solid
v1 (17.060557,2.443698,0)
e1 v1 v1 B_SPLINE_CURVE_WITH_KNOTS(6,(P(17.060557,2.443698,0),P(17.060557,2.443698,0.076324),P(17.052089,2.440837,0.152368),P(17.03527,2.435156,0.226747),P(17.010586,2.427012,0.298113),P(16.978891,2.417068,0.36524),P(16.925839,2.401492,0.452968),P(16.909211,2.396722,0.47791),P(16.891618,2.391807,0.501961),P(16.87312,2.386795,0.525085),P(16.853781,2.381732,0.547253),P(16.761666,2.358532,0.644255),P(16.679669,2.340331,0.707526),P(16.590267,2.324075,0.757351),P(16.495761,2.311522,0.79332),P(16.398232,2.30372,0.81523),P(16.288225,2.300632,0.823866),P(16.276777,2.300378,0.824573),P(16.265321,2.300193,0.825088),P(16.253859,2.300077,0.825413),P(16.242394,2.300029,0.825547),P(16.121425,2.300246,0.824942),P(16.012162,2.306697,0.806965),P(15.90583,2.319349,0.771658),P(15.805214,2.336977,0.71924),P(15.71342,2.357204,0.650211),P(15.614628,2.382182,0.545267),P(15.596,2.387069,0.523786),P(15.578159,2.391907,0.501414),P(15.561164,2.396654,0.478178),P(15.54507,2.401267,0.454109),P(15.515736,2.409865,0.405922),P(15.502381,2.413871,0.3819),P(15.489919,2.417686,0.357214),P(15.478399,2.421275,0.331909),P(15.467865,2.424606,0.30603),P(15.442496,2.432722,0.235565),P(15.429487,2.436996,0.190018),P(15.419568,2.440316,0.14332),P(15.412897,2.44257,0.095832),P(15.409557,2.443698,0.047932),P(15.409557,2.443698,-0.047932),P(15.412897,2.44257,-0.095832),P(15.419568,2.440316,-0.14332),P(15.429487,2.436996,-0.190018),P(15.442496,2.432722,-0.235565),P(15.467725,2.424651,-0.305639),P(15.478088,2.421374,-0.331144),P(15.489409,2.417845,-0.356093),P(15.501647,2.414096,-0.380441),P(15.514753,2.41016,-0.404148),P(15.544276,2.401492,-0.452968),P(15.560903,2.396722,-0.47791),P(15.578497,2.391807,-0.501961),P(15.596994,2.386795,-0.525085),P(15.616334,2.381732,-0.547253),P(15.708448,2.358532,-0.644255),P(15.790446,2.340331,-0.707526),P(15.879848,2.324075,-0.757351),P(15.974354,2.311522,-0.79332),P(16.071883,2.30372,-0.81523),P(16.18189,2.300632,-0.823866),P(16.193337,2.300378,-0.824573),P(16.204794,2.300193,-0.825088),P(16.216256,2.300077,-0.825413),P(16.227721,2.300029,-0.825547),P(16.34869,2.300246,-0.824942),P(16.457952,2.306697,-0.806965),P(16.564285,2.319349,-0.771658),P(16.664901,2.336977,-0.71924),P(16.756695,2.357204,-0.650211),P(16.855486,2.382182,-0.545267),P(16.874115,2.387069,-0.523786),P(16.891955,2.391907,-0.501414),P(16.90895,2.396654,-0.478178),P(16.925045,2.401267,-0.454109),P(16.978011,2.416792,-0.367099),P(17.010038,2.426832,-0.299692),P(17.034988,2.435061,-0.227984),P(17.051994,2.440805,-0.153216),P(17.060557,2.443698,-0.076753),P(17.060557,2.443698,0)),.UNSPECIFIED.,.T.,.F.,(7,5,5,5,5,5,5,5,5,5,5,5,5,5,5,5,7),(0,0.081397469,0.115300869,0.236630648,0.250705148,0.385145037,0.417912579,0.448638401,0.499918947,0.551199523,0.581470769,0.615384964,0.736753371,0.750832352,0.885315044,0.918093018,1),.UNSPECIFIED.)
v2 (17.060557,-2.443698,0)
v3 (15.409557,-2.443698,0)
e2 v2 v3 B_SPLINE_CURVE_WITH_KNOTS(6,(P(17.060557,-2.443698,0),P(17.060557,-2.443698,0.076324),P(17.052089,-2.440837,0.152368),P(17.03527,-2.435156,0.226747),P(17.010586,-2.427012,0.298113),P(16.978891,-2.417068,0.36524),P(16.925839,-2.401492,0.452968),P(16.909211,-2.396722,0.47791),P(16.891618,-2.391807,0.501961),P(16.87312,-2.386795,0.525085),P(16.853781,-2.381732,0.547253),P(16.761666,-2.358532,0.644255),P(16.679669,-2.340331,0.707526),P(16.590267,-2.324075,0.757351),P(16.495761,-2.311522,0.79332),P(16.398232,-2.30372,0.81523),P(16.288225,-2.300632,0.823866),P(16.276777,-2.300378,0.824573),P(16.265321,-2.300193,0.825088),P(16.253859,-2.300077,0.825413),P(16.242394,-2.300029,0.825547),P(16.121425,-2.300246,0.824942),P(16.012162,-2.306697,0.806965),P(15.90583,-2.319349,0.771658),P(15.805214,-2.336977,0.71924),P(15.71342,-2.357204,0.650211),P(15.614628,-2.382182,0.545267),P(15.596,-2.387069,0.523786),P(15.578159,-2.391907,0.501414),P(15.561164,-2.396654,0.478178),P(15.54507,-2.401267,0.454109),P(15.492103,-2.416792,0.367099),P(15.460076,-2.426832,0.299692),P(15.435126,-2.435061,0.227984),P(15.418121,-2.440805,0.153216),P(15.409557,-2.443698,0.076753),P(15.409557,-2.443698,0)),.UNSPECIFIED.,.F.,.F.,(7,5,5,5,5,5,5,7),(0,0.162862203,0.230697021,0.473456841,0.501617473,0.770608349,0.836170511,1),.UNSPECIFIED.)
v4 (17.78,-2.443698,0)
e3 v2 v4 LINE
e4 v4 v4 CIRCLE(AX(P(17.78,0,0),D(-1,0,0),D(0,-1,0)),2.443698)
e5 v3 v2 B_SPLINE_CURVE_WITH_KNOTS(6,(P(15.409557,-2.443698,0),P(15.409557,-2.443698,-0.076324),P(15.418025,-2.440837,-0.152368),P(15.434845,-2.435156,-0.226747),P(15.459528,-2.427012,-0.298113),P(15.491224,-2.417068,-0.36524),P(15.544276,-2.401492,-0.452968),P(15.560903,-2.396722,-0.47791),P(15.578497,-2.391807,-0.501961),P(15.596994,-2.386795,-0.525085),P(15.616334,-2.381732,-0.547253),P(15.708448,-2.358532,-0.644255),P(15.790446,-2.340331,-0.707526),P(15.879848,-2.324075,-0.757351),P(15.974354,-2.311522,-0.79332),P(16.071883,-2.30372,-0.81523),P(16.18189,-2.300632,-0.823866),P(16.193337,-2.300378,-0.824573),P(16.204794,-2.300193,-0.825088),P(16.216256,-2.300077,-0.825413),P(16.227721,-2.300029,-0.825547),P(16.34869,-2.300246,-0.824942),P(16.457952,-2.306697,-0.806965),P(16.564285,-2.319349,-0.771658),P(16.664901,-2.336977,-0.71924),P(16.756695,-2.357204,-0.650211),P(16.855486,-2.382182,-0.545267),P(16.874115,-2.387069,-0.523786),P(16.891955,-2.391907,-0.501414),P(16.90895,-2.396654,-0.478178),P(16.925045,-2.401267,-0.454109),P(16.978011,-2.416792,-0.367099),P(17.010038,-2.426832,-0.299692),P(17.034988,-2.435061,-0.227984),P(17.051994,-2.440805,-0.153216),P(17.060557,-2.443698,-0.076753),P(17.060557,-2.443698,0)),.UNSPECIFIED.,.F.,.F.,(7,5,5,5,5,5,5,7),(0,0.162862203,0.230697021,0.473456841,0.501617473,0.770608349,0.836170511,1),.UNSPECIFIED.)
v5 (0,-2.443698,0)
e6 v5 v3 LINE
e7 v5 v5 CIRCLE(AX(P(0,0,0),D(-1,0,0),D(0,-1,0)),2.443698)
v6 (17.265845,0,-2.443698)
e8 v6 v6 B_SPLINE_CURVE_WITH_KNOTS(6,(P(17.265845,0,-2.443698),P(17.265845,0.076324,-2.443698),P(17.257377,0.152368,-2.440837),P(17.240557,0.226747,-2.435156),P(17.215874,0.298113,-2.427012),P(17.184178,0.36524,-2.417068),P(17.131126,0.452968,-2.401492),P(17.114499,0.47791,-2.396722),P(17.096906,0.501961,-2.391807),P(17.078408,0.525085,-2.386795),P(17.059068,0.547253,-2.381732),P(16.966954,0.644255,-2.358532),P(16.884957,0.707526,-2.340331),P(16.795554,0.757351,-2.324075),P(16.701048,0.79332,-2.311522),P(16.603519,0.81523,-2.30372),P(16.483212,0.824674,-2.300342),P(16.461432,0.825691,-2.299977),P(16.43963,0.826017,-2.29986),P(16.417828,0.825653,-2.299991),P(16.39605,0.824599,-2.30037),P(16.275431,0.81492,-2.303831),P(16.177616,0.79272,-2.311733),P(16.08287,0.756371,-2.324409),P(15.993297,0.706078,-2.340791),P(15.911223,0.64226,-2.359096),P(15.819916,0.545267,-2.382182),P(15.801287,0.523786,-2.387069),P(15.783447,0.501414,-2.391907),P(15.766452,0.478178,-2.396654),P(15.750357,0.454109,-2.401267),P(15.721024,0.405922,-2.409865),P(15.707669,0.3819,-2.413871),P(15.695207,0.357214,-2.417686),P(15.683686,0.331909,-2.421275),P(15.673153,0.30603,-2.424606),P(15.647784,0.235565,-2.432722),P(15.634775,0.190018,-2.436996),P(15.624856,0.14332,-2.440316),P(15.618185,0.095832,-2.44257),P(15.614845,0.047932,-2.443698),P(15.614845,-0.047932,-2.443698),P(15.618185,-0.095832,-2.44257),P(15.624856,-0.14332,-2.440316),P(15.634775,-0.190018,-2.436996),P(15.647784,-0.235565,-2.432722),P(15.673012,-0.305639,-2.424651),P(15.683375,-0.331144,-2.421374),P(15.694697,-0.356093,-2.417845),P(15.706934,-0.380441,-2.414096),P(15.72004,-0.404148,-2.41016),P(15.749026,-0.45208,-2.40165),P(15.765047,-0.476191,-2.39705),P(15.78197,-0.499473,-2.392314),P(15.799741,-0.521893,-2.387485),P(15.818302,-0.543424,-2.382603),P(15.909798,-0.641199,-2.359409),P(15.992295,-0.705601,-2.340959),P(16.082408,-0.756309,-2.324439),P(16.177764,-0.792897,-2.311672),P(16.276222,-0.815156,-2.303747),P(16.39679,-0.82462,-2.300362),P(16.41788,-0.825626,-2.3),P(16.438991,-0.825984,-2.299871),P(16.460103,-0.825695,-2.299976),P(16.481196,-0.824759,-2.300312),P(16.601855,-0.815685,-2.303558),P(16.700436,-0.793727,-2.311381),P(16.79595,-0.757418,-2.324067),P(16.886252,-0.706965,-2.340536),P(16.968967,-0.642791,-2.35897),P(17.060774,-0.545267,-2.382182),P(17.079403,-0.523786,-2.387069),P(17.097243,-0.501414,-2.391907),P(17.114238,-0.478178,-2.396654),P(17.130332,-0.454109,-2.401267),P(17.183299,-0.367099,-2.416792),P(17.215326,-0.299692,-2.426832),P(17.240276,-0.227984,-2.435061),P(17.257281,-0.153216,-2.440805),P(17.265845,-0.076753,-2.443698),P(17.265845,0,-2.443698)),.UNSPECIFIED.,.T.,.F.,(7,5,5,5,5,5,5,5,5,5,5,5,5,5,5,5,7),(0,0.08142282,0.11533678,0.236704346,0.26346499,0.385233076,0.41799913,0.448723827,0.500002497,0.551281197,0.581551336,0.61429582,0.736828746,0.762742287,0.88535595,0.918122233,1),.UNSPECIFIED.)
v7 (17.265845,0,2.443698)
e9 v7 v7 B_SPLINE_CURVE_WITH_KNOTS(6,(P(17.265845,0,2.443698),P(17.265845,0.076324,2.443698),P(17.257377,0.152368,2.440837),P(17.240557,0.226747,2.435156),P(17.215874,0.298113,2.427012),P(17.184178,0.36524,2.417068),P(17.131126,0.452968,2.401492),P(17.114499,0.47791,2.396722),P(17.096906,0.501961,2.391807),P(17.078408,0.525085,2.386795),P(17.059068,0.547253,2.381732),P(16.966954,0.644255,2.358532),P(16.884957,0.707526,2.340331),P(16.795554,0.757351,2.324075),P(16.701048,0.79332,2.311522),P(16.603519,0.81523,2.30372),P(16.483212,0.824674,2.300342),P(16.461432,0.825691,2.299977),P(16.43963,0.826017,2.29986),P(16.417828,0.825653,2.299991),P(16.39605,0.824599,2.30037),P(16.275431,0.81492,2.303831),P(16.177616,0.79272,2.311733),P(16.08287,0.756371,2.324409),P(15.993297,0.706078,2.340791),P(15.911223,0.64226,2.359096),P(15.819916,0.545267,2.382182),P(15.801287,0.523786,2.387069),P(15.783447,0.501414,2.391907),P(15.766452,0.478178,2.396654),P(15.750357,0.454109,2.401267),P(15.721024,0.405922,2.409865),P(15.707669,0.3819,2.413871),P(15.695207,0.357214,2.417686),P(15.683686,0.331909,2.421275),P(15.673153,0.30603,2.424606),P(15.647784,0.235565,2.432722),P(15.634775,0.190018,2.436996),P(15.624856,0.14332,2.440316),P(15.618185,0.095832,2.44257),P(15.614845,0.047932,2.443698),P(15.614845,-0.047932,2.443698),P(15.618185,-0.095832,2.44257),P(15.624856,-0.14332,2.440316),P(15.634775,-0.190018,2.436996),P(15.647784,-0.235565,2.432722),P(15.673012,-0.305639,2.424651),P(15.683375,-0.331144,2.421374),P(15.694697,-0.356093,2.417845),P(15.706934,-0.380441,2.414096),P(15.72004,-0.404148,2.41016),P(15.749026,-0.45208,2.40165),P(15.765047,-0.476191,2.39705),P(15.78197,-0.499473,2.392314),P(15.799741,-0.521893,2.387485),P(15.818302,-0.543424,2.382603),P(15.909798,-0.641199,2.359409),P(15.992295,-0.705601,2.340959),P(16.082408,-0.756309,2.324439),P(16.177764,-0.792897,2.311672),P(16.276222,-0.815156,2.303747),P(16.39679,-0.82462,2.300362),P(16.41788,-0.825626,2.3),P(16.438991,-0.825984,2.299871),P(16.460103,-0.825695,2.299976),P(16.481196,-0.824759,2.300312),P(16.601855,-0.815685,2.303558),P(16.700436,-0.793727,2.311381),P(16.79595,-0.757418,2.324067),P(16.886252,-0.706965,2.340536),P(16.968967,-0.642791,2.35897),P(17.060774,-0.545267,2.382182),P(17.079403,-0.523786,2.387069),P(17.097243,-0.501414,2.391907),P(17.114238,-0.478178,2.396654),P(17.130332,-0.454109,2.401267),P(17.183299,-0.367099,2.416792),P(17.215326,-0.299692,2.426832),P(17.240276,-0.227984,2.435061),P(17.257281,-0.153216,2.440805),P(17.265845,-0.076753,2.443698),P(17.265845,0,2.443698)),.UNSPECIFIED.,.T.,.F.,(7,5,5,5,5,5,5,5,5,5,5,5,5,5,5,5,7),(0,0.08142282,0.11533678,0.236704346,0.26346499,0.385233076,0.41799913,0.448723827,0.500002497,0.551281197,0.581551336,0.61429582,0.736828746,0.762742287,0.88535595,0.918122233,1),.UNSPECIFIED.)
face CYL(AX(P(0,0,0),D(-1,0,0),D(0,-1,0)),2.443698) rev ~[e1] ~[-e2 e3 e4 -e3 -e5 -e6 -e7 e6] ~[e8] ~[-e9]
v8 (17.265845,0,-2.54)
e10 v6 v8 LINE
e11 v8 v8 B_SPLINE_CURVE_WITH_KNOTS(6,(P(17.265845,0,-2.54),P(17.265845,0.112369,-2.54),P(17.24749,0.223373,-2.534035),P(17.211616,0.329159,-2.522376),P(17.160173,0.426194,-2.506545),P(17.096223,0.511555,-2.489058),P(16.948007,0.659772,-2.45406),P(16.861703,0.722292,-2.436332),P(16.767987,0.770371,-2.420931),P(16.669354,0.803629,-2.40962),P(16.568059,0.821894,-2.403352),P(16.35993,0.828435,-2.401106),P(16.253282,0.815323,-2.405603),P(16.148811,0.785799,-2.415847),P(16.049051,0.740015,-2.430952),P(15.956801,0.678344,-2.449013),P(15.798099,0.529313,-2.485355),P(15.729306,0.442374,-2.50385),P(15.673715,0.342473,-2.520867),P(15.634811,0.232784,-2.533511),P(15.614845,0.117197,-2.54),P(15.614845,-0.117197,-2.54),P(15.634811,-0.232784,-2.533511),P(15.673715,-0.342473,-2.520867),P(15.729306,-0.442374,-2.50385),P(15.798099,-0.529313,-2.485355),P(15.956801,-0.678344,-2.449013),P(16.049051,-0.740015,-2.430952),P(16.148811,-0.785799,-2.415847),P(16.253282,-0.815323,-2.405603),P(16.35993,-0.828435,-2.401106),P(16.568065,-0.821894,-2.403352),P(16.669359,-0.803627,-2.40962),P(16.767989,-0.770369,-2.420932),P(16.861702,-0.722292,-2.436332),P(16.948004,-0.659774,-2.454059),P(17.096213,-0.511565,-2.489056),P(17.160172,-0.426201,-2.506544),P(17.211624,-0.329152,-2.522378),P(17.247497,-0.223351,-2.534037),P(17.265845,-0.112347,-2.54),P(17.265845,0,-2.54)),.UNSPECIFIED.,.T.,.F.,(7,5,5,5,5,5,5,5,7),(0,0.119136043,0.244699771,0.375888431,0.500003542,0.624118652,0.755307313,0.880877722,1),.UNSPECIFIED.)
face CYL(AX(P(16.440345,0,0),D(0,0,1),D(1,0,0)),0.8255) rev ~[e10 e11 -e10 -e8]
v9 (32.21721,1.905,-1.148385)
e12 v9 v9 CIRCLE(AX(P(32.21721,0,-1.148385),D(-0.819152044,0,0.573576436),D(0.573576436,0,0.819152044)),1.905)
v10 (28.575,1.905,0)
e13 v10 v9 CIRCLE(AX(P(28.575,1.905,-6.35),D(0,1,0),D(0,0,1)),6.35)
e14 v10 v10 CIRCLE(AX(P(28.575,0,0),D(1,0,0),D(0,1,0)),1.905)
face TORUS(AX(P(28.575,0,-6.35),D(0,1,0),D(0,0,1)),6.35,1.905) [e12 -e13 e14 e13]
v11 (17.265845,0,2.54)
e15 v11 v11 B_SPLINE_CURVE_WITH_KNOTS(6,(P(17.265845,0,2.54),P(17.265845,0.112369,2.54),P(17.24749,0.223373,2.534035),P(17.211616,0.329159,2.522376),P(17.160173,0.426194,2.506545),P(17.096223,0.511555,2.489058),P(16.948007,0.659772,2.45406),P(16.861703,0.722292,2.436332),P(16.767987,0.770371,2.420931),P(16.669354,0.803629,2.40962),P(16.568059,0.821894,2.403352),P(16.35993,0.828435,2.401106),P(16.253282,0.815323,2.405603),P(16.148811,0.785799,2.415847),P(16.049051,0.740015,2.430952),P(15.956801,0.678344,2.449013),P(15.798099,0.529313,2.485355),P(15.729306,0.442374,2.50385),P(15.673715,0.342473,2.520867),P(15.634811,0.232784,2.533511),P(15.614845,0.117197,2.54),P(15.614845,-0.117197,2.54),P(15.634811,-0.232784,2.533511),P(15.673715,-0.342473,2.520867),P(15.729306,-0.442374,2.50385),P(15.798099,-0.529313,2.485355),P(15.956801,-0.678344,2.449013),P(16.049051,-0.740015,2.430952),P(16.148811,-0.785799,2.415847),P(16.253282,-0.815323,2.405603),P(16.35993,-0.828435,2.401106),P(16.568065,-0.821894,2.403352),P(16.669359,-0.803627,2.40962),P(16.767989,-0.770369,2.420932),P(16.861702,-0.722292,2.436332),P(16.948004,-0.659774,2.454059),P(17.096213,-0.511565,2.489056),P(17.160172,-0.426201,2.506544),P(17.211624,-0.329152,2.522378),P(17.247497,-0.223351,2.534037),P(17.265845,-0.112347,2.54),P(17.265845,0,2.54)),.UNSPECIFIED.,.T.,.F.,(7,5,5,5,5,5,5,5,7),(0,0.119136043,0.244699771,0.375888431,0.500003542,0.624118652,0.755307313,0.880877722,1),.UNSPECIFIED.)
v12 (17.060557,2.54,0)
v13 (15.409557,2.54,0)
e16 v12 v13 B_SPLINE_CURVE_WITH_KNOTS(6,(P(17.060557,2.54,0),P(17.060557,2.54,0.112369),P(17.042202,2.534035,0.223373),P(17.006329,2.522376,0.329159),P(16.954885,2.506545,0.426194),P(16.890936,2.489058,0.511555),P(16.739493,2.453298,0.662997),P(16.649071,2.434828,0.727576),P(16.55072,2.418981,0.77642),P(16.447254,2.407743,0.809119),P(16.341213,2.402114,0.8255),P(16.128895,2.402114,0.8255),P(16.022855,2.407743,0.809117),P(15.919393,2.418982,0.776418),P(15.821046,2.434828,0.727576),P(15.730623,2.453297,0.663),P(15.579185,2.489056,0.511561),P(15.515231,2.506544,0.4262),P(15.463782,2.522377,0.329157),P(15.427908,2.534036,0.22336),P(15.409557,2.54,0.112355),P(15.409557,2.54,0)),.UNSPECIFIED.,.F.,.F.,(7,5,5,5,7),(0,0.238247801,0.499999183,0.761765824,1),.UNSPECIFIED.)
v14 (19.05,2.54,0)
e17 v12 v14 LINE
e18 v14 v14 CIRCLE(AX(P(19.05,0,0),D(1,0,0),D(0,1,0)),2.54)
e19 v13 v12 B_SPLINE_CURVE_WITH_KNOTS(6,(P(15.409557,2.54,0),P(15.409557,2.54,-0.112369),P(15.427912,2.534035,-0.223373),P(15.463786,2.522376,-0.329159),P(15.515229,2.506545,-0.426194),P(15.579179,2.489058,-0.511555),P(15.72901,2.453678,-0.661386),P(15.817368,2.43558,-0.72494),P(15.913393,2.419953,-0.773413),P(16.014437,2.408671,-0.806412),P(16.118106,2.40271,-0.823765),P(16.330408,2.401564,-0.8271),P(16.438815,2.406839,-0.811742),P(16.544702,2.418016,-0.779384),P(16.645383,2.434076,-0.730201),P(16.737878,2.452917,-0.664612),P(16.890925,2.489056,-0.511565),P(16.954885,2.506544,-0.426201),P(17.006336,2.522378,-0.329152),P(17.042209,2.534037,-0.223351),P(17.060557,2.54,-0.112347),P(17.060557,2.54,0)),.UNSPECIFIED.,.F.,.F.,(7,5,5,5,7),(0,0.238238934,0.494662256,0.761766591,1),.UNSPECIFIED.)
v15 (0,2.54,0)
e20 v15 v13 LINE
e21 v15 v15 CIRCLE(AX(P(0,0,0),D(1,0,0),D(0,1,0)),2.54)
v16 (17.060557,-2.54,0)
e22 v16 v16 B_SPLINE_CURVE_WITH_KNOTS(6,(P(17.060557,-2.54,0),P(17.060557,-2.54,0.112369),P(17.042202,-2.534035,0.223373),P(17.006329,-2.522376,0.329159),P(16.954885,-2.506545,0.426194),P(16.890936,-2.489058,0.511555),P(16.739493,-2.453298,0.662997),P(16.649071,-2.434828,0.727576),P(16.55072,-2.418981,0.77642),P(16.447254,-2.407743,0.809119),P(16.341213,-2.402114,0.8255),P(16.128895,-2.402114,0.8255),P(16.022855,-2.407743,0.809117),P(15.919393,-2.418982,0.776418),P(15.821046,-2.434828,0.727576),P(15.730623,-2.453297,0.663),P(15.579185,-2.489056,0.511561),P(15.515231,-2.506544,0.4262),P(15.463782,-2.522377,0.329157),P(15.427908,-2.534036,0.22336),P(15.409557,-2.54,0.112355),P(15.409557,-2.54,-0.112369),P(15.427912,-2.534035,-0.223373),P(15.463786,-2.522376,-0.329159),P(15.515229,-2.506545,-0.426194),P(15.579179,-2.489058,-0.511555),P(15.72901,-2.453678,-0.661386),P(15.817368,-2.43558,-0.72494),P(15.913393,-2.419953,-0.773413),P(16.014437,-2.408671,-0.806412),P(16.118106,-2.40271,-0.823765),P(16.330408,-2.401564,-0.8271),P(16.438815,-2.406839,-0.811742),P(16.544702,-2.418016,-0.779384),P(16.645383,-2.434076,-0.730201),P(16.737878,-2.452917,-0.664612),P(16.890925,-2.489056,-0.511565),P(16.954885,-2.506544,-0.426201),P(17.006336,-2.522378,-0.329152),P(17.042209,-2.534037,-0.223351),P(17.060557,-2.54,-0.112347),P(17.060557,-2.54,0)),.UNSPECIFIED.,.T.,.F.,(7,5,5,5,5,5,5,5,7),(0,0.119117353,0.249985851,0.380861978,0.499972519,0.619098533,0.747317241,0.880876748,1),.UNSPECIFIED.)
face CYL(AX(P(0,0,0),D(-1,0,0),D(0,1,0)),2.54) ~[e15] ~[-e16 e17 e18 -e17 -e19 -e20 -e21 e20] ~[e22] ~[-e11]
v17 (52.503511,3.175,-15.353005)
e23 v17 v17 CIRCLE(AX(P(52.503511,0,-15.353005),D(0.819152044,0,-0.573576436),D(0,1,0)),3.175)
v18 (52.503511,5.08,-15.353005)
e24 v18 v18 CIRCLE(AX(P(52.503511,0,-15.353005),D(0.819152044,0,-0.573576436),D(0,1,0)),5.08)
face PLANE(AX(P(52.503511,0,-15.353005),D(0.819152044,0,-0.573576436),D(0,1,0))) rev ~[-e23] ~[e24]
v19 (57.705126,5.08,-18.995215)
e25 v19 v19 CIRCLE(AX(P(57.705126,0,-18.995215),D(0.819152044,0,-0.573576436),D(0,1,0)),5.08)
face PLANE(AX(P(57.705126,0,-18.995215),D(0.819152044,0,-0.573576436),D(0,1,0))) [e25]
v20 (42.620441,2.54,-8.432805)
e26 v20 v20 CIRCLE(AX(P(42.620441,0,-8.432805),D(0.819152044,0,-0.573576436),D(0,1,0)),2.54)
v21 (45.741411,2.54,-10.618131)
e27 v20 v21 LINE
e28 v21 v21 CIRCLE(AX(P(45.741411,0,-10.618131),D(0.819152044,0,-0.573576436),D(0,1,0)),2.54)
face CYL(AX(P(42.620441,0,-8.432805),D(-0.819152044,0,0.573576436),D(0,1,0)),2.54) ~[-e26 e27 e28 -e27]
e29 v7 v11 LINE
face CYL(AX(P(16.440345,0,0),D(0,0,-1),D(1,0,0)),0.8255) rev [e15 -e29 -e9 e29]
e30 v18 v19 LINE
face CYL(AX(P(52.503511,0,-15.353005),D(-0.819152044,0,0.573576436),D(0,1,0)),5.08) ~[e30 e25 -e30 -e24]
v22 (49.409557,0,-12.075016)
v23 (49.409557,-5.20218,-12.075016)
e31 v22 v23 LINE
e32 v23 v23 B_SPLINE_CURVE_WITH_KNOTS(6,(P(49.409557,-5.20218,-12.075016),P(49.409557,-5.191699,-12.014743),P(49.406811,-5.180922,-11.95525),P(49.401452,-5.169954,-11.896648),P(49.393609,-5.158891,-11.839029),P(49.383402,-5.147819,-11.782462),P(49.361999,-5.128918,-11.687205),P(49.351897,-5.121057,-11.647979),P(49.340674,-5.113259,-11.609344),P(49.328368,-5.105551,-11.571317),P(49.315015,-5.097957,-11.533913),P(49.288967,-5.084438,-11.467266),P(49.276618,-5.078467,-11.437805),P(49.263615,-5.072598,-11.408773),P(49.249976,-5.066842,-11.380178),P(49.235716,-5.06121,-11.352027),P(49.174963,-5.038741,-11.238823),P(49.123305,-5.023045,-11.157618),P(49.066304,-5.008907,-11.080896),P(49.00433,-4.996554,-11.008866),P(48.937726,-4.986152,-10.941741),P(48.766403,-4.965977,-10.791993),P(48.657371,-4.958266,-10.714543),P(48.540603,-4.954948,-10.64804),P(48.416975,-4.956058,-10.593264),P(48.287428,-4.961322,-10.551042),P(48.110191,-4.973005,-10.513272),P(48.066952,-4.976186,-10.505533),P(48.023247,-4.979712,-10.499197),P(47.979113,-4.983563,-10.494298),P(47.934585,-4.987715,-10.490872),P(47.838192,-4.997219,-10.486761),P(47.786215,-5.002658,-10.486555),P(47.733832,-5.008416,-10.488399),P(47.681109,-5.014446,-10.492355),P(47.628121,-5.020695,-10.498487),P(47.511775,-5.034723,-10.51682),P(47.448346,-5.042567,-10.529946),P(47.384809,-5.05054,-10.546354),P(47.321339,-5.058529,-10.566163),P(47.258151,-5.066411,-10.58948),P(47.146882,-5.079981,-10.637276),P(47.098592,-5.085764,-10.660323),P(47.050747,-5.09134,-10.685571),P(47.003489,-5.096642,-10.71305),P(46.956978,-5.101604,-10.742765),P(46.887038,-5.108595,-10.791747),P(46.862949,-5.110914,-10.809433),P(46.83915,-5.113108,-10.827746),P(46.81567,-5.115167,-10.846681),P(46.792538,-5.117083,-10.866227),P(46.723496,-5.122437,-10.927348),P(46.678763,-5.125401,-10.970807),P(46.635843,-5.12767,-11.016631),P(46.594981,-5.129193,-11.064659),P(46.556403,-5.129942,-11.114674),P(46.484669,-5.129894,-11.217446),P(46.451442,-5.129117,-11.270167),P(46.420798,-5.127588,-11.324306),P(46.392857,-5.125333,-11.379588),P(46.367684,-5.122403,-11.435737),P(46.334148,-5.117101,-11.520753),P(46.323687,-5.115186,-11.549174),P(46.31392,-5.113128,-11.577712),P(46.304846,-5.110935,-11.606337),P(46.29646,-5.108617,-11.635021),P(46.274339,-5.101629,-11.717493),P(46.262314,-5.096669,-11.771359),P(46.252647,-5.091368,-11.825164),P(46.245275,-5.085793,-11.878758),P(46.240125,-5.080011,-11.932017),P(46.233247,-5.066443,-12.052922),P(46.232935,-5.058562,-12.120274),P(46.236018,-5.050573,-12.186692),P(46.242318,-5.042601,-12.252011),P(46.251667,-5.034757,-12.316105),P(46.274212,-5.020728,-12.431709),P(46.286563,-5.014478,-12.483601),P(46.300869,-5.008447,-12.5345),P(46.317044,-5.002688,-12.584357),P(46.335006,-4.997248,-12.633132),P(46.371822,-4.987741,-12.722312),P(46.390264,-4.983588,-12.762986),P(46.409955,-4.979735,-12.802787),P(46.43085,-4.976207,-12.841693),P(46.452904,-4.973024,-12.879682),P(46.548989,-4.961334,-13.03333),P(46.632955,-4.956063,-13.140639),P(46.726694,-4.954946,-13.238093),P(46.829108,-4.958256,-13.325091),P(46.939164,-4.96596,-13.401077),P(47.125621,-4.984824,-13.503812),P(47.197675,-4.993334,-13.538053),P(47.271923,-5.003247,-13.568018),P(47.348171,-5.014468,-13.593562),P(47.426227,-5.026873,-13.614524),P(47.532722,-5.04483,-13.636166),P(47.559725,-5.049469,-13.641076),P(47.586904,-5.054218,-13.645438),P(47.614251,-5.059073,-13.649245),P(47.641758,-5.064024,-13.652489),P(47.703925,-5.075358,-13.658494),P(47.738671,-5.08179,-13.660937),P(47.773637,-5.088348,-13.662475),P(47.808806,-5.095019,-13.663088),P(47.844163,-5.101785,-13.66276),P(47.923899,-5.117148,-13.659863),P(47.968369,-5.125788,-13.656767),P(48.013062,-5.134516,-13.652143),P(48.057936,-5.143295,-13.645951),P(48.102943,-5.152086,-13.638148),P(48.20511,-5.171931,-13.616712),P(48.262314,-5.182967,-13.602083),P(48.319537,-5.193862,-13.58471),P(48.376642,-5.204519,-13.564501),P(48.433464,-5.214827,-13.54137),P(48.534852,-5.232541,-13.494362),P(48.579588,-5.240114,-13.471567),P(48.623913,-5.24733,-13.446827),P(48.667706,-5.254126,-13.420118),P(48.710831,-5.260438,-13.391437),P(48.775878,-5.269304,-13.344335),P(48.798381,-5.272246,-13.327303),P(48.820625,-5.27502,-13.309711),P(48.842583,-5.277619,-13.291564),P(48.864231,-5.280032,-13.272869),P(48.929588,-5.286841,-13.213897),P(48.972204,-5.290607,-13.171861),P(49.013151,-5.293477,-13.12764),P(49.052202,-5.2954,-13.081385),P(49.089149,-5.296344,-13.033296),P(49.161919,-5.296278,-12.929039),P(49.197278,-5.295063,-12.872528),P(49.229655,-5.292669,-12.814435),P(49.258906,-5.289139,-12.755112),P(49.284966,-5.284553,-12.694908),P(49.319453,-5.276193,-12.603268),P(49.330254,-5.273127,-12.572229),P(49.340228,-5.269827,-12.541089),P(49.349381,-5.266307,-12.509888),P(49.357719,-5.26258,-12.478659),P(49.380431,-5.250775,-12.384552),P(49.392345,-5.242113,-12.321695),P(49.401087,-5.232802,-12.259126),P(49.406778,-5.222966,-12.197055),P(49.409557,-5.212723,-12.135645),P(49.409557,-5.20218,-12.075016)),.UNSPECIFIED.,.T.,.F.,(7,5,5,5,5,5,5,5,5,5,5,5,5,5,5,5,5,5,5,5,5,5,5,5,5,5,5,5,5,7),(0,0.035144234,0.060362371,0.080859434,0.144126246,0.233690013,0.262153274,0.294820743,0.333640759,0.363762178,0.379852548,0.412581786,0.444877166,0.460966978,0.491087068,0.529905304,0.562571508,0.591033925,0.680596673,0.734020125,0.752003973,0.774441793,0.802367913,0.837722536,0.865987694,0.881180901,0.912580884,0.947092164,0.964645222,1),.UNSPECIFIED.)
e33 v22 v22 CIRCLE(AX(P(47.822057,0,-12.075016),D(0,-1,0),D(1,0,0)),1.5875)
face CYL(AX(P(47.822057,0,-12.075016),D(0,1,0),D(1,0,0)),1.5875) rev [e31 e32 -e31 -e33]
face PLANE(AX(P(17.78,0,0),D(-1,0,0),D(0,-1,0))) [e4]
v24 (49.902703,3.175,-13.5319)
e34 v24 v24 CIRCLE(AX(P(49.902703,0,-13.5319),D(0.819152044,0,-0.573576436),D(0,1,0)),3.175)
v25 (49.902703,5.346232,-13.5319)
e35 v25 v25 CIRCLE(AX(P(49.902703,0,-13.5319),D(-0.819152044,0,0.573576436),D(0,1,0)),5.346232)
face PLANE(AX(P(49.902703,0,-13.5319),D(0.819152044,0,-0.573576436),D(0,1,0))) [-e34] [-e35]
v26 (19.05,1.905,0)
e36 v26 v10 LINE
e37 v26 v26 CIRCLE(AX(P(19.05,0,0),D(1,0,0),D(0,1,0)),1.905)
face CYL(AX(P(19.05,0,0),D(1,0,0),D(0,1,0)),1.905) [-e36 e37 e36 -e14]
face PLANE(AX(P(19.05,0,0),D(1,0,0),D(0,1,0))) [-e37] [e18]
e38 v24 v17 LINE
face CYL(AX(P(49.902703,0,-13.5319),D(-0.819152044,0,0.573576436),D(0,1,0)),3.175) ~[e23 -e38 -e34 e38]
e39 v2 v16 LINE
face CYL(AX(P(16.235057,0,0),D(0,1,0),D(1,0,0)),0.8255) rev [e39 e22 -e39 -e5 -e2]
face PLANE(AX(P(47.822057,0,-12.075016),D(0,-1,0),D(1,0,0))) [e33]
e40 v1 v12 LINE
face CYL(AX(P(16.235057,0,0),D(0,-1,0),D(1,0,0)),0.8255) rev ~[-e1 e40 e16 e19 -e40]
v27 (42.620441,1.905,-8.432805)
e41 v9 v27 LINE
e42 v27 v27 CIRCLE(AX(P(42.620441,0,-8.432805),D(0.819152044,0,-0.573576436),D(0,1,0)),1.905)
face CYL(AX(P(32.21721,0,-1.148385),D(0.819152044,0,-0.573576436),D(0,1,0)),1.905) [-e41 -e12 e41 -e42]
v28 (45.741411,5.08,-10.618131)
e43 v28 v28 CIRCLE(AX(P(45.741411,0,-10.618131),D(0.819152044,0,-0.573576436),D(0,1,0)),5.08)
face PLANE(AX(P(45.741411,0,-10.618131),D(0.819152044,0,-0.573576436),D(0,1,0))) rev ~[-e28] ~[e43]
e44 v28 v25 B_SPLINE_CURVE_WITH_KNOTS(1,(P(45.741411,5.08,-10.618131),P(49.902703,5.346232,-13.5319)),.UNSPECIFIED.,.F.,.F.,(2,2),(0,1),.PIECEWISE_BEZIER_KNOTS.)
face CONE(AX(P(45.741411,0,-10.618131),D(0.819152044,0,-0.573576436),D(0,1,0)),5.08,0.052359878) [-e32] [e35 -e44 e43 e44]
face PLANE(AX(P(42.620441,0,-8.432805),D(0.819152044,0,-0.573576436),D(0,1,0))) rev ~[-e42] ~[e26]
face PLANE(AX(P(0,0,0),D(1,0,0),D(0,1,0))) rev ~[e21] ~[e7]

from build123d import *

# Parameters (mm, degrees)
F0_R           = 2.54
F1_DEPTH       = 19.05
F2_R           = 1.905
F5_R           = 2.54
F5_R_2         = 1.905
F6_DEPTH       = 3.81
F7_R           = 5.08
F7_R_2         = 2.54
F8_DEPTH       = 5.08
F8_TAPER       = -3
F9_R           = 3.175
F10_DEPTH      = 3.175
F11_R          = 5.08
F11_R_2        = 3.175
F12_DEPTH      = 6.35
F13_R          = 2.4436980308
F14_DEPTH      = 17.78
F15_R          = 0.8255
F16_DEPTH      = 23.1575077208
F16_DEPTH_BACK = 2.541
F17_R          = 0.8255
F18_DEPTH      = 5.3472316188
F18_DEPTH_BACK = 5.3472316188
F19_R          = 1.5875
F20_DEPTH      = 5.3472316188


with BuildPart() as f1:
    # F0 (on Right) → F1 (new body)
    with BuildSketch(Plane.YZ):
        Circle(F0_R)
    extrude(amount=F1_DEPTH)

    # F4: sweep along a path in F3
    with BuildLine(Plane.XZ) as f4_path:
        Line((19.05, 0), (28.575, 0))
        ThreePointArc((28.575, 0), (30.4844818269, -0.2938973627), (32.2172103708, -1.1483845188))
        Line((32.2172103708, -1.1483845188), (42.6204413333, -8.4328052604))
    # F2 (on face) → F4 (sweep)
    with BuildSketch(Plane.YZ.offset(19.05)):
        Circle(F2_R)
    sweep(path=f4_path.line)

    # F5 (on face) → F6 (join)
    with BuildSketch(Plane(origin=(32.5608678312, 0, -22.7993651061), x_dir=(0, 1, 0), z_dir=(0.8191520443, 0, -0.5735764364))):
        with Locations((0, 17.5383311875)):
            Circle(F5_R)
        with Locations((0, 17.5383311875)):
            Circle(F5_R_2, mode=Mode.SUBTRACT)
        with Locations((0, 17.5383311875)):
            Circle(F5_R_2)
    extrude(amount=F6_DEPTH)

    # F7 (on face) → F8 (join)
    with BuildSketch(Plane(origin=(35.68183712, 0, -24.9846913286), x_dir=(0, 1, 0), z_dir=(0.8191520443, 0, -0.5735764364))):
        with Locations((0, 17.5383311875)):
            Circle(F7_R)
        with Locations((0, 17.5383311875)):
            Circle(F7_R_2, mode=Mode.SUBTRACT)
        with Locations((0, 17.5383311875)):
            Circle(F7_R_2)
    extrude(amount=F8_DEPTH, taper=F8_TAPER)

    # F9 (on face) → F10 (join)
    with BuildSketch(Plane(origin=(39.843129505, 0, -27.8984596252), x_dir=(0, 1, 0), z_dir=(0.8191520443, 0, -0.5735764364))):
        with Locations((0, 17.5383311875)):
            Circle(F9_R)
    extrude(amount=F10_DEPTH)

    # F11 (on face) → F12 (join)
    with BuildSketch(Plane(origin=(42.4439372456, 0, -29.7195648107), x_dir=(0, 1, 0), z_dir=(0.8191520443, 0, -0.5735764364))):
        with Locations((0, 17.5383311875)):
            Circle(F11_R)
        with Locations((0, 17.5383311875)):
            Circle(F11_R_2, mode=Mode.SUBTRACT)
        with Locations((0, 17.5383311875)):
            Circle(F11_R_2)
    extrude(amount=F12_DEPTH)

    # F13 (on face) → F14 (cut)
    with BuildSketch(Plane(origin=(0, 0, 0), x_dir=(0, -1, 0), z_dir=(-1, 0, 0))):
        Circle(F13_R)
    extrude(amount=-F14_DEPTH, mode=Mode.SUBTRACT)

    # F15 (on Top) → F16 (cut, two sides)
    with BuildSketch(Plane.XY) as f16_sk:
        with Locations((16.4403449744, 0)):
            Circle(F15_R)
    extrude(amount=-F16_DEPTH, mode=Mode.SUBTRACT)
    extrude(f16_sk.sketch, amount=F16_DEPTH_BACK, mode=Mode.SUBTRACT)

    # F17 (on Front) → F18 (cut, two sides)
    with BuildSketch(Plane.XZ) as f18_sk:
        with Locations((16.2350572646, 0)):
            Circle(F17_R)
    extrude(amount=-F18_DEPTH, mode=Mode.SUBTRACT)
    extrude(f18_sk.sketch, amount=F18_DEPTH_BACK, mode=Mode.SUBTRACT)

    # F19 (on Front) → F20 (cut, through all)
    with BuildSketch(Plane.XZ):
        with Locations((47.8220568145, -12.0750156313)):
            Circle(F19_R)
    extrude(amount=F20_DEPTH, mode=Mode.SUBTRACT)


solid = f1.part
